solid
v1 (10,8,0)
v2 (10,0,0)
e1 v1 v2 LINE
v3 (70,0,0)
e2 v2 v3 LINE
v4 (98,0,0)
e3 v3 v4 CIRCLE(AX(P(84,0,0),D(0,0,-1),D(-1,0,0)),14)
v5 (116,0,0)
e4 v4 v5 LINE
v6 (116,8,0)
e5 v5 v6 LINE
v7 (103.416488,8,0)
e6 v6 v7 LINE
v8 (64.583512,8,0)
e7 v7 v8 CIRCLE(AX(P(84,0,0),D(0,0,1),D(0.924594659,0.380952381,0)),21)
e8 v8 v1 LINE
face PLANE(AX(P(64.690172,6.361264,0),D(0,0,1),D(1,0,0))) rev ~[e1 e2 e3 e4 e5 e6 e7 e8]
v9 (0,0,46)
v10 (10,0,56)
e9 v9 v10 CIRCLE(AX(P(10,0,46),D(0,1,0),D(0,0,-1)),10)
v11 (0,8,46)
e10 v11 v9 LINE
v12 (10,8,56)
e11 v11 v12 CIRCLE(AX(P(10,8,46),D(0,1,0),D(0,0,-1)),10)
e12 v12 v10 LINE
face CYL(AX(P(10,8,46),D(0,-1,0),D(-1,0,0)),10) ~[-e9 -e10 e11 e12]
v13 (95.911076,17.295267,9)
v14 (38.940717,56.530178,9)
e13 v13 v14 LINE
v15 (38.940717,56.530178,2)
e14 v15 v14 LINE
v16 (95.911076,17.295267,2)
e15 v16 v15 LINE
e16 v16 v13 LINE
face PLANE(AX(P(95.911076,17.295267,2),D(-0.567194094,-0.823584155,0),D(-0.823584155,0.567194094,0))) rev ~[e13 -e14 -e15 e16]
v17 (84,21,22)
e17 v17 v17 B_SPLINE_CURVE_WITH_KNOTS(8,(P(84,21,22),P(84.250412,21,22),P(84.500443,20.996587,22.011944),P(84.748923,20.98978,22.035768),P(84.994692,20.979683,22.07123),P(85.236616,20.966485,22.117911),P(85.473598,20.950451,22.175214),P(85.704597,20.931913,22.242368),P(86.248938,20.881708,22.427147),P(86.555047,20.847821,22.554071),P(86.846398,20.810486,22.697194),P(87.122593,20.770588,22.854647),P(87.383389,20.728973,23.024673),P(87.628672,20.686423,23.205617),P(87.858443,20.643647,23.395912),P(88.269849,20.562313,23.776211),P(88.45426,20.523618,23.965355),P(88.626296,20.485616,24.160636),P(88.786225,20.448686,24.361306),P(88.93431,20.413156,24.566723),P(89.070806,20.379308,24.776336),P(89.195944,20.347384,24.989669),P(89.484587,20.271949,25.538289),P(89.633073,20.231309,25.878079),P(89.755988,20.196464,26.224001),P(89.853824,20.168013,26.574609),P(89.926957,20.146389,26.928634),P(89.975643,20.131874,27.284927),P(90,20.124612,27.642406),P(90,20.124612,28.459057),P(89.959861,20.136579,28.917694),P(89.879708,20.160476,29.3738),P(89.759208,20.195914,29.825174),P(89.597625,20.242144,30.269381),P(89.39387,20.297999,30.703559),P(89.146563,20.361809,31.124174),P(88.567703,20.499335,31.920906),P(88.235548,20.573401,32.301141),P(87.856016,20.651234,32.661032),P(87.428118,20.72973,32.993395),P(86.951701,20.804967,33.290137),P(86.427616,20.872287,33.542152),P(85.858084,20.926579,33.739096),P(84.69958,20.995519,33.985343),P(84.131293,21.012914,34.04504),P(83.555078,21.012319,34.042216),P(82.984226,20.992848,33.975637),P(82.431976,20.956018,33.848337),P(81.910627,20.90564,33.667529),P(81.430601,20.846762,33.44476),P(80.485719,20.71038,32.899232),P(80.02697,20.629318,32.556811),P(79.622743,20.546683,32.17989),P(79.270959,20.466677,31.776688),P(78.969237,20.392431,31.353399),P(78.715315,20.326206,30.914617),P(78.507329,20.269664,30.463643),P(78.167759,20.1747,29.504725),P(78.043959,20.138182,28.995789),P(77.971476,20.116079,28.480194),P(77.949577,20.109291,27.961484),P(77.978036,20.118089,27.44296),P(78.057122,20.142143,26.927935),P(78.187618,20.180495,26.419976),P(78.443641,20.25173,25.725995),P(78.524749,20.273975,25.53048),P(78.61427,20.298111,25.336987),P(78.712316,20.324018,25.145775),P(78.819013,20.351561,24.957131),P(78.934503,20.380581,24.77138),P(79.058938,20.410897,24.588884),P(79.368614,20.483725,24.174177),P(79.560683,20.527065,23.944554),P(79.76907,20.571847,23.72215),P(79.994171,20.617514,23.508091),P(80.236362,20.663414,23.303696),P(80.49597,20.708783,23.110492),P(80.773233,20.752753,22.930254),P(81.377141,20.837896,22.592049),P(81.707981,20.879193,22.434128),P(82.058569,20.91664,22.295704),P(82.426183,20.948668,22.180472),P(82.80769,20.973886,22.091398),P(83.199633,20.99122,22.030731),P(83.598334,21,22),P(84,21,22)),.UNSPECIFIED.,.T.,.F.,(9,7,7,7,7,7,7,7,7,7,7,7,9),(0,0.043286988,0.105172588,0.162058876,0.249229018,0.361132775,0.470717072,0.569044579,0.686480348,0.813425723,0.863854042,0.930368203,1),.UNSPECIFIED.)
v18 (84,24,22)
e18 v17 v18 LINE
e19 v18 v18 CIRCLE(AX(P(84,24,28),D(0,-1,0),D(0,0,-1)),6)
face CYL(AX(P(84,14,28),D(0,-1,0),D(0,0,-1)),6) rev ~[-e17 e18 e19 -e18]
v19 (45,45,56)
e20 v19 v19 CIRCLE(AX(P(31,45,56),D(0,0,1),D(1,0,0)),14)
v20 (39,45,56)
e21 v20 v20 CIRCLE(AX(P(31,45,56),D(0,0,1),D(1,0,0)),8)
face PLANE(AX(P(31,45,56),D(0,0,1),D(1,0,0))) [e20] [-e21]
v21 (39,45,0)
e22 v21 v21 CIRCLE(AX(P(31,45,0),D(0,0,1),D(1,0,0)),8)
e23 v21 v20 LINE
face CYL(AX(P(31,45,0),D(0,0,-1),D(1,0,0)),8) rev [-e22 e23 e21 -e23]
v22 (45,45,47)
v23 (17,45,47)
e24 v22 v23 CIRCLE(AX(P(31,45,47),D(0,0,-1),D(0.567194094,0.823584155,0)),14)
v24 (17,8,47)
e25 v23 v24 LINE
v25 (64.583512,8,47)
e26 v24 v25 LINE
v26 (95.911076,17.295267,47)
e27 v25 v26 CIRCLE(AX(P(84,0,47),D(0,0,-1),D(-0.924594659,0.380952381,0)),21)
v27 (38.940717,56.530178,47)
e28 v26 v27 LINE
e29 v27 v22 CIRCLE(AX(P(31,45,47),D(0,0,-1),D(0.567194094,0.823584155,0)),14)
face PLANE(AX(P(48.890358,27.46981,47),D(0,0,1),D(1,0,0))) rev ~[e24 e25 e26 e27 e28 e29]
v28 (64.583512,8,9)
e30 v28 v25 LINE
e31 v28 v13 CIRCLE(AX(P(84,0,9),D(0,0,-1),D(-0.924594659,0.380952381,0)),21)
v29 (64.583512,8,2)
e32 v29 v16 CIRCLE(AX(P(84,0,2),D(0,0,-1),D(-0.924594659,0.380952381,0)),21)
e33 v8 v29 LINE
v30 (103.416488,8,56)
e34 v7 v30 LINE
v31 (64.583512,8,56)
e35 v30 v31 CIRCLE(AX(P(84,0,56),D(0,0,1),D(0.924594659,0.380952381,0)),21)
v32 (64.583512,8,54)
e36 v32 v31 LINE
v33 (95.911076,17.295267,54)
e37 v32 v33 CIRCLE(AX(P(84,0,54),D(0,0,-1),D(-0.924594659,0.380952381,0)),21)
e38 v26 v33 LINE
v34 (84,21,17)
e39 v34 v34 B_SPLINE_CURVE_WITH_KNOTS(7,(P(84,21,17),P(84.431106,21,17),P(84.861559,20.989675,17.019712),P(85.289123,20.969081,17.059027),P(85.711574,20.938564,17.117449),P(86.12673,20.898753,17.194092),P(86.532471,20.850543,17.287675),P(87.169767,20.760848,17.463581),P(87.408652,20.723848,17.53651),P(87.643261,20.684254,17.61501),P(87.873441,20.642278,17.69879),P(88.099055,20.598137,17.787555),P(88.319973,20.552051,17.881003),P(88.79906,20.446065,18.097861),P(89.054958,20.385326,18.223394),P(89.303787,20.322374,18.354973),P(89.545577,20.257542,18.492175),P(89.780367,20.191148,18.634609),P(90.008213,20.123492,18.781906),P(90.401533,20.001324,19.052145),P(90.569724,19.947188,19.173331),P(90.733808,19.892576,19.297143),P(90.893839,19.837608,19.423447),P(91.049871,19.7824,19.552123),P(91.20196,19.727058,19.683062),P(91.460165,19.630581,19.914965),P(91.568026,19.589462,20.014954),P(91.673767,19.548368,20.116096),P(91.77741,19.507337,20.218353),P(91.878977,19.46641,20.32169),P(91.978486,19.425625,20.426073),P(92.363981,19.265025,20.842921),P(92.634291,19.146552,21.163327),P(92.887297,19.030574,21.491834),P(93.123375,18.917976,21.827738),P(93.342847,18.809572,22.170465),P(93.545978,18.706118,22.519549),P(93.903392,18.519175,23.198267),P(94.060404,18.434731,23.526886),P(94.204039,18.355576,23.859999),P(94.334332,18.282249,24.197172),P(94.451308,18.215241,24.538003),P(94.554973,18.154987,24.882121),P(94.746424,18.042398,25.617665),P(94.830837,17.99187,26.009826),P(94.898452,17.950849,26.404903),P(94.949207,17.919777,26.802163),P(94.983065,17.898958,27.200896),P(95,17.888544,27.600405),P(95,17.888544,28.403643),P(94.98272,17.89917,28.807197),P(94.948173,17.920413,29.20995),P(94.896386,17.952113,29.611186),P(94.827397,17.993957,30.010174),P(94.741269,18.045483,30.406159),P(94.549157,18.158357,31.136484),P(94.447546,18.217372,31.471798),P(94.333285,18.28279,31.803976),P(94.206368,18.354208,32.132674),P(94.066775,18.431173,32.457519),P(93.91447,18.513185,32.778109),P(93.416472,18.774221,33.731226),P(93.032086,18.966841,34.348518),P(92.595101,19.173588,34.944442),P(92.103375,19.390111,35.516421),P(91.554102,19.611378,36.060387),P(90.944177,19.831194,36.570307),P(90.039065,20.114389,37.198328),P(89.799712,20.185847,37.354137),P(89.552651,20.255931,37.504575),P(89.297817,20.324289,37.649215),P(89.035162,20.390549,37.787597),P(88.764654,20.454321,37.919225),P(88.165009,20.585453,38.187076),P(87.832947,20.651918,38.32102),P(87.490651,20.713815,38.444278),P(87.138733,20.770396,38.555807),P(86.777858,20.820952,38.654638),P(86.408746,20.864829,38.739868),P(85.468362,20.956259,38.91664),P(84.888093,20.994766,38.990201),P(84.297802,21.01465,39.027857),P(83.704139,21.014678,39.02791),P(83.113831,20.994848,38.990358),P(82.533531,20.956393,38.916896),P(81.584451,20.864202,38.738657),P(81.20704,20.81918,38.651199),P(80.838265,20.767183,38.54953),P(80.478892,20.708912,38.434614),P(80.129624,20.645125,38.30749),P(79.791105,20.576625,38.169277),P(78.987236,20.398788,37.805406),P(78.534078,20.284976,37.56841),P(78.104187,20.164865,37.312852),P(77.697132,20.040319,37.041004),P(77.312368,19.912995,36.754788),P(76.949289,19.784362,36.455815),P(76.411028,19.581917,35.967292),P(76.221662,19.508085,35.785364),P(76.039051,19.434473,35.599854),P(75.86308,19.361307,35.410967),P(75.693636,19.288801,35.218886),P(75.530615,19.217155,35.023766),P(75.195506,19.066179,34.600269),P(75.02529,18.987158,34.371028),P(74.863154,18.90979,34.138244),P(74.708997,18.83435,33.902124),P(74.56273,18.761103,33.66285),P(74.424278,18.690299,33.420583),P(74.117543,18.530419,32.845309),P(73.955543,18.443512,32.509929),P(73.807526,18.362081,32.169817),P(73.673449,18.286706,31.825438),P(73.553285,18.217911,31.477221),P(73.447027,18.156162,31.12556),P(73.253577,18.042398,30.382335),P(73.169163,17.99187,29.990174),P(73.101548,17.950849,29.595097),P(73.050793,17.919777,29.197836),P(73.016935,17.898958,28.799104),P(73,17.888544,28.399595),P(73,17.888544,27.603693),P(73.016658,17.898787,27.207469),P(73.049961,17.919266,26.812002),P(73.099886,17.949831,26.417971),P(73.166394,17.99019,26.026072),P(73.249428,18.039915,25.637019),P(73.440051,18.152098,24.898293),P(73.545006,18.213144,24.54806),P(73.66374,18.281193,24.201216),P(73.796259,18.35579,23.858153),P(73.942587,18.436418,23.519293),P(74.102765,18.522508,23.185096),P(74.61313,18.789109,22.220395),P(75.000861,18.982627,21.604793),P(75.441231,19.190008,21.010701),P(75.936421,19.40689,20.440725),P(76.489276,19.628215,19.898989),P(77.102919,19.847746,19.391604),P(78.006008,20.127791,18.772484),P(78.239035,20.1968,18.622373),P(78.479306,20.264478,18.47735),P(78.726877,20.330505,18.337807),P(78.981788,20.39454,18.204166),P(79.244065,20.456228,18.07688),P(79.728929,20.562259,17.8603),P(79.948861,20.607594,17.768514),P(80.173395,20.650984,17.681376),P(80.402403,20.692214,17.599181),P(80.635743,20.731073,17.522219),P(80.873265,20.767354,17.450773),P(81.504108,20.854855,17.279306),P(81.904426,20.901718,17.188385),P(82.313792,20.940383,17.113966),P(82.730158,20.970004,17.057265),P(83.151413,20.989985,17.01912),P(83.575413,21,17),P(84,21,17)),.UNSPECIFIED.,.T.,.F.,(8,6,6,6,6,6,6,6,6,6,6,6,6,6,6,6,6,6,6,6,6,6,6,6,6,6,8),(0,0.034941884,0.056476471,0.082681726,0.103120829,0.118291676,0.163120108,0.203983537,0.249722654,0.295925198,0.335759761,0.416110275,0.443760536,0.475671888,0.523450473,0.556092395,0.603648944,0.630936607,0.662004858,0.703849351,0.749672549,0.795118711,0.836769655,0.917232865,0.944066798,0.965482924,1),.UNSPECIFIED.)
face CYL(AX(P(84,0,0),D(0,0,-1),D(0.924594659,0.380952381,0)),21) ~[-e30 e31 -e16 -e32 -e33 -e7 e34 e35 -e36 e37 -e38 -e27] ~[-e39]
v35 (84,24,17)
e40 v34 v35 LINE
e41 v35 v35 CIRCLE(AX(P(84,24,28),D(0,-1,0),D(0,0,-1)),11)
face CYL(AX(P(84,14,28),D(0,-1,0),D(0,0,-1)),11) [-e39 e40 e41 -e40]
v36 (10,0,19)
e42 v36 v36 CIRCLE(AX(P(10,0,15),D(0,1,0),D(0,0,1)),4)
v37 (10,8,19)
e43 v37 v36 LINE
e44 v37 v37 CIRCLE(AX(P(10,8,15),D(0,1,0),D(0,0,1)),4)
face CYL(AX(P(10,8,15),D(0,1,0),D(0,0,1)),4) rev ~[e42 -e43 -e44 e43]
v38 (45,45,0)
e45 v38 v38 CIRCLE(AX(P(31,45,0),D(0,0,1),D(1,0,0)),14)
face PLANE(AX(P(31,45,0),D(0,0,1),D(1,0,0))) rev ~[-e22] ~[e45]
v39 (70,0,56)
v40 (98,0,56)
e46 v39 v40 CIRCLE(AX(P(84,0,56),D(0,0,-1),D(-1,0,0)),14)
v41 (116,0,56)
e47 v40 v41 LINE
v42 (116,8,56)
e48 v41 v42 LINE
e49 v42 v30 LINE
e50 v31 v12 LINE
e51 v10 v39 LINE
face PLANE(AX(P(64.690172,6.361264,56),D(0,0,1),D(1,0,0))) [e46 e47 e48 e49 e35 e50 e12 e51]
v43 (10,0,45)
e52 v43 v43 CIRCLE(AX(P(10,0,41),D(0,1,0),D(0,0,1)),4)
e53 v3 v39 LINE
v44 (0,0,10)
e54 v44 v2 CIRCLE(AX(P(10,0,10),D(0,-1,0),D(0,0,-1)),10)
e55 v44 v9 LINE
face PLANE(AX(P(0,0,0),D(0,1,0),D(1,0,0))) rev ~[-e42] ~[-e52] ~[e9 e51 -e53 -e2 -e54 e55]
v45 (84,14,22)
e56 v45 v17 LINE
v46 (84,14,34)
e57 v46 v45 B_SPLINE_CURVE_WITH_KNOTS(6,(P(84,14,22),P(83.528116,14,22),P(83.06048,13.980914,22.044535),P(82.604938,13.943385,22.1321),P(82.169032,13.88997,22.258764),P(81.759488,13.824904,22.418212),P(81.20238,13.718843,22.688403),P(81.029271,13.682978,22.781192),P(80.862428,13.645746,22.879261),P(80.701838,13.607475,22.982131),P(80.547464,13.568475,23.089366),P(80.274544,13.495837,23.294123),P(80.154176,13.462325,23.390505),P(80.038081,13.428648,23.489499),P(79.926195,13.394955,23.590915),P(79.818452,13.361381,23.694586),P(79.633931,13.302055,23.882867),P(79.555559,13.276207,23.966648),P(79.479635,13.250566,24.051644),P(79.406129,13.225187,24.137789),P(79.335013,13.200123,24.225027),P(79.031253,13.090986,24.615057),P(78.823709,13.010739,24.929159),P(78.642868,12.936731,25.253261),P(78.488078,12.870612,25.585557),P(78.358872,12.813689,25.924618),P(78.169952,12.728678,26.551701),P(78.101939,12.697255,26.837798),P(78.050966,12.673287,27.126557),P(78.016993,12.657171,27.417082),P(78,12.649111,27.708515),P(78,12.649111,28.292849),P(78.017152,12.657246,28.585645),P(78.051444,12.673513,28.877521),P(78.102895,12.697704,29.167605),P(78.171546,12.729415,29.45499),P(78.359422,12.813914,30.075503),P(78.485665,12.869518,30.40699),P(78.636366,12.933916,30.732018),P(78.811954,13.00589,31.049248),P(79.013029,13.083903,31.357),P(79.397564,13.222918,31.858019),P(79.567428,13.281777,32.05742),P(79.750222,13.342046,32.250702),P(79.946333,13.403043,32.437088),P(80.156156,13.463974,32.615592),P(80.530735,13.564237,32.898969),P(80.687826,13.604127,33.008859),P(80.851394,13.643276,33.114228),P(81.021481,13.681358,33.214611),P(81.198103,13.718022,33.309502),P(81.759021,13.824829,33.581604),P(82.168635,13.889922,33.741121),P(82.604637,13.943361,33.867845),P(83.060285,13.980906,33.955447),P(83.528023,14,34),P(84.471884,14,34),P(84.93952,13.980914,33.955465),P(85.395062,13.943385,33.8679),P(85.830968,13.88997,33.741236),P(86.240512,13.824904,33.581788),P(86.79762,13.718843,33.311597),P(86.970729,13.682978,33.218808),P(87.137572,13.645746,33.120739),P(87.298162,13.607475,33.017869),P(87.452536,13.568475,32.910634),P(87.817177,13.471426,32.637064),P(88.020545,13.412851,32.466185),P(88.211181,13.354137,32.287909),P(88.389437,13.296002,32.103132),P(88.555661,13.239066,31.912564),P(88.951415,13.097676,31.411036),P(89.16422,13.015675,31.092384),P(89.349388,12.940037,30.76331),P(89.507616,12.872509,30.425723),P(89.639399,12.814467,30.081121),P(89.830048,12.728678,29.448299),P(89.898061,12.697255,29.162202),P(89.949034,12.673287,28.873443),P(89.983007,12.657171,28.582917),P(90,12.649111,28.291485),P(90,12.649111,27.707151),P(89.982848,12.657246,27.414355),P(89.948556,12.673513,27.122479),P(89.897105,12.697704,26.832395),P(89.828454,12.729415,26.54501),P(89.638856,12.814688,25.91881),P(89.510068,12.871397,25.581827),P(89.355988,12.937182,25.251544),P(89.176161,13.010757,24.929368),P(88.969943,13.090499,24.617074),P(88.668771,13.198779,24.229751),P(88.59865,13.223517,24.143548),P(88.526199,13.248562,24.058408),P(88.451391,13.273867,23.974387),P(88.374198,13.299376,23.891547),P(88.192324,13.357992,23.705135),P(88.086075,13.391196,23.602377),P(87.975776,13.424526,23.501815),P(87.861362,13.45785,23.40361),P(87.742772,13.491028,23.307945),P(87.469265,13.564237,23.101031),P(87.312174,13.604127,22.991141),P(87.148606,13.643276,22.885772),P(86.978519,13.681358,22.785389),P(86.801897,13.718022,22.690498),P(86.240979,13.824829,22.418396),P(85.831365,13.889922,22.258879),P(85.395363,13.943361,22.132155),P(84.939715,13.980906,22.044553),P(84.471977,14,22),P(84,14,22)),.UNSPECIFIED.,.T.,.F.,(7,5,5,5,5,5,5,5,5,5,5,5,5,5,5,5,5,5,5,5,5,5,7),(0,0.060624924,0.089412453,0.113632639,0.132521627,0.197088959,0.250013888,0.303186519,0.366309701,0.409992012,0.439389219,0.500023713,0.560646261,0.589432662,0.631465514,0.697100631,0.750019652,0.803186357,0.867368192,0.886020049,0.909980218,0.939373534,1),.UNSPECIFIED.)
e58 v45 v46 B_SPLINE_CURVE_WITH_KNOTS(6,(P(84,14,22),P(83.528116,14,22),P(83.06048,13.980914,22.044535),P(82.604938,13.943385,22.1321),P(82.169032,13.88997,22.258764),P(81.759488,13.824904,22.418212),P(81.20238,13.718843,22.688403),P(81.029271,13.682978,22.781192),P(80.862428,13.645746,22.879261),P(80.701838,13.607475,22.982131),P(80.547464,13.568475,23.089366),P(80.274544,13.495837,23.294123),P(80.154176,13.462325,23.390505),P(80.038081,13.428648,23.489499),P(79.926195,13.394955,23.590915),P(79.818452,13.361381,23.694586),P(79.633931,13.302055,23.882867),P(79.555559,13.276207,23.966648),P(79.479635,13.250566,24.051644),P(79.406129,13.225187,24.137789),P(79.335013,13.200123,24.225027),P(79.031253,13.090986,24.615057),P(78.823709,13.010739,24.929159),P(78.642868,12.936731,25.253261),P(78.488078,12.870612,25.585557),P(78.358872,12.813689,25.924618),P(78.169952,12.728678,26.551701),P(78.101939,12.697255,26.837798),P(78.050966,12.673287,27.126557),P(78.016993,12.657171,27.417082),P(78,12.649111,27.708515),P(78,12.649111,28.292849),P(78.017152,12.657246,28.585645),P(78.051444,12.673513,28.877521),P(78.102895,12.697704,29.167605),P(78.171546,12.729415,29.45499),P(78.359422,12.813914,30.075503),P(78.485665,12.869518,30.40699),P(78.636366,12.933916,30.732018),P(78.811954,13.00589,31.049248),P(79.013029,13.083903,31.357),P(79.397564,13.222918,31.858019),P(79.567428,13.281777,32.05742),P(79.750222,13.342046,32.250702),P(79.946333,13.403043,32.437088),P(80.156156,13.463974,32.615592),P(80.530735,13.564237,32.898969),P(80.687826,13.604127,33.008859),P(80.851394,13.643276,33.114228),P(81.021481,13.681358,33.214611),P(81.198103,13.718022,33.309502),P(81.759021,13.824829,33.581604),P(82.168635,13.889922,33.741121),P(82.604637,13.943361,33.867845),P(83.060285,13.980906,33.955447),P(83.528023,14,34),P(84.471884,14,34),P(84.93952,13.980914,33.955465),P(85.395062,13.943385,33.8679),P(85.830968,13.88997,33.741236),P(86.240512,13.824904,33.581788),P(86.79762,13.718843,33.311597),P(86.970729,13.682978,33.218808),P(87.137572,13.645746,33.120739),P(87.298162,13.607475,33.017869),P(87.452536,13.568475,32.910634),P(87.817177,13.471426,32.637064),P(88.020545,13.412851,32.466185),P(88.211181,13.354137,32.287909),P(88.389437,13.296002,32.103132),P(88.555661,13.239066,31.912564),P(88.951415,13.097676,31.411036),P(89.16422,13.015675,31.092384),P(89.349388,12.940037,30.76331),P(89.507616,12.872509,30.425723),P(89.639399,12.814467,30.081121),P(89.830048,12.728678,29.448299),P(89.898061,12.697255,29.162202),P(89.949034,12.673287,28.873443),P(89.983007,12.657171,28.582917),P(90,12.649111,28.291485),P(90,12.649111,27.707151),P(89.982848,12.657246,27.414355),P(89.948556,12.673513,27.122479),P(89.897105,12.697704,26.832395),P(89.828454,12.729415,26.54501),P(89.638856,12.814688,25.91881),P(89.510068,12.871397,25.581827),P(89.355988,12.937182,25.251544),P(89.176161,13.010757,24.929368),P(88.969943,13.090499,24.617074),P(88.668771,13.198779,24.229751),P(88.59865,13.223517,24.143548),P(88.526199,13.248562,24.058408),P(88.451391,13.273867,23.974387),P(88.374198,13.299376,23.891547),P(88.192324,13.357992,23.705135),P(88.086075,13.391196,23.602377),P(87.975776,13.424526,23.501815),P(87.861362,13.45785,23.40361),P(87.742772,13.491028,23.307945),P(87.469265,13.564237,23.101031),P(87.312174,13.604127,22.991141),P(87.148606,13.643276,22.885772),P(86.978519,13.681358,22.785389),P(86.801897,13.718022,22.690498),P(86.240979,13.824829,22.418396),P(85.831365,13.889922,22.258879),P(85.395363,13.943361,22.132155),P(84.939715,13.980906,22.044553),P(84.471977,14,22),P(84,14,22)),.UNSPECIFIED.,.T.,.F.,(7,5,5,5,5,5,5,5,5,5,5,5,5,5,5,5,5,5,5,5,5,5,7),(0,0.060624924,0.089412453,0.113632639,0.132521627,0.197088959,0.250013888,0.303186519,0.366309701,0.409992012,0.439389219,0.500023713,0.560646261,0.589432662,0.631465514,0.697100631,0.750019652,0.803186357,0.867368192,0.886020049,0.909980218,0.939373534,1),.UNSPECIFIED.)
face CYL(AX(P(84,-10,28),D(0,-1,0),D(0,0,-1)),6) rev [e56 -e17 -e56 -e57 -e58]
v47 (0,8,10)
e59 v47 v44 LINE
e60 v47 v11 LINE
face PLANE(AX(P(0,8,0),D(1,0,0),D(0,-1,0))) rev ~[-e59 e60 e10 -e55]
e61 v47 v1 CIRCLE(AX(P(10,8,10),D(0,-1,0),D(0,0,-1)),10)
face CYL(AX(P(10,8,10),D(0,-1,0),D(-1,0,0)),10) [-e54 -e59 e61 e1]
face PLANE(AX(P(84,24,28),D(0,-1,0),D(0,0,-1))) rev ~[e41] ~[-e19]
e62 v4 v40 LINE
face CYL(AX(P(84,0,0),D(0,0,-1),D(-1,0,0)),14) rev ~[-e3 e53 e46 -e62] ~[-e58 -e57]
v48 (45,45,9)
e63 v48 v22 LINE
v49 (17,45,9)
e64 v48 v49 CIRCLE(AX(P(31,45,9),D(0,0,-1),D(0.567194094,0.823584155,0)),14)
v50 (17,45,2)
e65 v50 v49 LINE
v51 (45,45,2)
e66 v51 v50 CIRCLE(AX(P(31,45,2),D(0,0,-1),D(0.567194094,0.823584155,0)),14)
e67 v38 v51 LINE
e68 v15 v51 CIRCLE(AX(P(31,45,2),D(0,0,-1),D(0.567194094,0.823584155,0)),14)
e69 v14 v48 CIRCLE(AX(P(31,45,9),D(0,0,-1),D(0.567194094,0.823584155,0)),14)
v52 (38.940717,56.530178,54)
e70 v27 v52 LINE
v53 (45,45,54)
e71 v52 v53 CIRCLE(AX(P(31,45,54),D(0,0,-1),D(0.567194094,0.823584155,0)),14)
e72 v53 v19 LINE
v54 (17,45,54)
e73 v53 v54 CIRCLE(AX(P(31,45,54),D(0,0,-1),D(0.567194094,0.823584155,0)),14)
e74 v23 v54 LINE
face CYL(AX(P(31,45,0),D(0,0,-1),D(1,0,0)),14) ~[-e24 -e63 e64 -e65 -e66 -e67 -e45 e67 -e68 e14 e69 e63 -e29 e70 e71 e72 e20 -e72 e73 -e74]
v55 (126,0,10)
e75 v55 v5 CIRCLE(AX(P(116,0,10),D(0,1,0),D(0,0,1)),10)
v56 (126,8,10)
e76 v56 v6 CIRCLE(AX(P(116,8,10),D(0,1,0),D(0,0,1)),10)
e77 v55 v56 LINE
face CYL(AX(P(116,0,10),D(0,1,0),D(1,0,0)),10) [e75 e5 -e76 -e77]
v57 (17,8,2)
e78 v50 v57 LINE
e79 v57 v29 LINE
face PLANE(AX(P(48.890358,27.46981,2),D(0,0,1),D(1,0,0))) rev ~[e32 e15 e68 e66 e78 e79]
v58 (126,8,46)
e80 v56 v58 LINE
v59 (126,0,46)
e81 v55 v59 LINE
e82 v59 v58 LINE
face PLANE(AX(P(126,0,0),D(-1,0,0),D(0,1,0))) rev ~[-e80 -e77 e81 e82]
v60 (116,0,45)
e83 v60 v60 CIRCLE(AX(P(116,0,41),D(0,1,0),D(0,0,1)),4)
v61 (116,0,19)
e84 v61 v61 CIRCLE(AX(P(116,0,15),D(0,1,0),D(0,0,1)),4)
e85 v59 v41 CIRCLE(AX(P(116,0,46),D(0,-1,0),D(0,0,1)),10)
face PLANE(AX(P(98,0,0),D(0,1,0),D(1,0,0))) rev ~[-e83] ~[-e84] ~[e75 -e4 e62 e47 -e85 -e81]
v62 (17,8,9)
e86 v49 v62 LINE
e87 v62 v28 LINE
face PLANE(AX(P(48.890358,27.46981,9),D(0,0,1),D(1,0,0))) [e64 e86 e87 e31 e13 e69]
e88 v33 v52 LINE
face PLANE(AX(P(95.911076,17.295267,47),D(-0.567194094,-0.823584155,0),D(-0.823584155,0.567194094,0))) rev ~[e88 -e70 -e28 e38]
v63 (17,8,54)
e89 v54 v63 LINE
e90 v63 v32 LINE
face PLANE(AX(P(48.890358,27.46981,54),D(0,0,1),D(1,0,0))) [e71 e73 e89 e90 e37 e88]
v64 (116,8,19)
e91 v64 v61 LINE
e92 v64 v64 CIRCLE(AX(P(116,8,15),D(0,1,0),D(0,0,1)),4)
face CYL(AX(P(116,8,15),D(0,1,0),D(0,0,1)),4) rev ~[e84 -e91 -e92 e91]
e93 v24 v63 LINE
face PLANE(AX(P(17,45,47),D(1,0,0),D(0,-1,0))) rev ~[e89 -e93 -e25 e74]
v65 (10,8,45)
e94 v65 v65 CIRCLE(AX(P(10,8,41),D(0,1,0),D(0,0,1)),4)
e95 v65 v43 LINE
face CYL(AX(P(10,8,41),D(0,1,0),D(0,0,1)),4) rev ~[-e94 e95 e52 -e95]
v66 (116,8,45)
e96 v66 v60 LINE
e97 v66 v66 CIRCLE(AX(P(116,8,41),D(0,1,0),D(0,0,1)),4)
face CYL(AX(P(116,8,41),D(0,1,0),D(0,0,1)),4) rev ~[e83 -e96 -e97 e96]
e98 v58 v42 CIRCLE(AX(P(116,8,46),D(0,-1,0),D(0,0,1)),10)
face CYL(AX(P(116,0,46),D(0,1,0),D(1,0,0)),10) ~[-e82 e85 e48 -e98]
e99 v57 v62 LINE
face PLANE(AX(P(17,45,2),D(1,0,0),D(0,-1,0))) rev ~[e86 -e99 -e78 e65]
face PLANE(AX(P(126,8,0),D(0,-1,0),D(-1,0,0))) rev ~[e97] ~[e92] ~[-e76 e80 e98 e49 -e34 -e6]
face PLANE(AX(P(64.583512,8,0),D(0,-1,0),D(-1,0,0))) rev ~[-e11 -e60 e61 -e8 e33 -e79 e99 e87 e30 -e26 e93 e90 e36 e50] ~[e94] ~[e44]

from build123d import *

# Parameters (mm, degrees)
BOSS_EXTRUDE1_DEPTH = 56
FILLET1_R           = 10
SKETCH2_R           = 4
CUT_EXTRUDE1_DEPTH  = 56
SKETCH4_R           = 11
SKETCH4_R_2         = 6
BOSS_EXTRUDE2_DEPTH = 10
CUT_EXTRUDE2_START  = -34
SKETCH5_R           = 6
CUT_EXTRUDE2_DEPTH  = 34
SKETCH6_R           = 14
SKETCH6_R_2         = 8
BOSS_EXTRUDE3_DEPTH = 56
BOSS_EXTRUDE4_START = -7
BOSS_EXTRUDE4_DEPTH = 7
BOSS_EXTRUDE5_DEPTH = 7


with BuildPart() as part:
    # Sketch1 → Boss-Extrude1 (new body)
    with BuildSketch(Plane.XY):
        with BuildLine():
            Line((0, 0), (70, 0))
            ThreePointArc((70, 0), (84, 14), (98, 0))
            Line((98, 0), (126, 0))
            Line((126, 0), (126, 8))
            Line((126, 8), (103.416487839, 8))
            ThreePointArc((103.416487839, 8), (84, 21), (64.583512161, 8))
            Line((64.583512161, 8), (0, 8))
            Line((0, 8), (0, 0))
        make_face()
    extrude(amount=BOSS_EXTRUDE1_DEPTH)

    # Fillet1
    fillet1_edges = [part.edges().sort_by_distance(p)[0] for p in [
        (0, 4, 0),
        (126, 4, 56),
        (0, 4, 56),
        (126, 4, 0),
    ]]
    fillet(fillet1_edges, radius=FILLET1_R)

    # Sketch2 → Cut-Extrude1 (cut)
    with BuildSketch(Plane(origin=(0, 8, 0), x_dir=(1, 0, 0), z_dir=(0, 1, 0))):
        with Locations(Location((10, -15, 0), (0, 0, 270))):
            Circle(SKETCH2_R)
        with Locations(Location((10, -41, 0), (0, 0, 270))):
            Circle(SKETCH2_R)
        with Locations(Location((116, -15, 0), (0, 0, 270))):
            Circle(SKETCH2_R)
        with Locations(Location((116, -41, 0), (0, 0, 270))):
            Circle(SKETCH2_R)
    extrude(amount=-CUT_EXTRUDE1_DEPTH, mode=Mode.SUBTRACT)

    # Sketch4 → Boss-Extrude2 (add)
    with BuildSketch(Plane(origin=(0, 14, 0), x_dir=(-1, 0, 0), z_dir=(0, -1, 0))):
        with Locations(Location((-84, -28, 0), (0, 0, 90))):
            Circle(SKETCH4_R)
        with Locations(Location((-84, -28, 0), (0, 0, 90))):
            Circle(SKETCH4_R_2, mode=Mode.SUBTRACT)
    extrude(amount=-BOSS_EXTRUDE2_DEPTH)

    # Sketch5 → Cut-Extrude2 (cut)
    with BuildSketch(Plane(origin=(0, 24, 0), x_dir=(1, 0, 0), z_dir=(0, 1, 0)).offset(CUT_EXTRUDE2_START)):
        with Locations(Location((84, -28, 0), (0, 0, 90))):
            Circle(SKETCH5_R)
    extrude(amount=CUT_EXTRUDE2_DEPTH, mode=Mode.SUBTRACT)



with BuildPart() as body_2:
    # Sketch6 → Boss-Extrude3 (new body)
    with BuildSketch(Plane.XY):
        with Locations((31, 45)):
            Circle(SKETCH6_R)
        with Locations((31, 45)):
            Circle(SKETCH6_R_2, mode=Mode.SUBTRACT)
    extrude(amount=BOSS_EXTRUDE3_DEPTH)


with BuildPart() as part_1:
    add(part.part)

    add(body_2.part)  # Boss-Extrude4 merges body 2
    # Sketch7 → Boss-Extrude4 (add)
    with BuildSketch(Plane.XY.offset(54).offset(BOSS_EXTRUDE4_START)):
        with BuildLine():
            Line((17, 45), (17, 8))
            Line((17, 8), (64.583512161, 8))
            ThreePointArc((64.583512161, 8), (78.026449954, 20.132478731), (95.911075968, 17.295267251))
            Line((95.911075968, 17.295267251), (38.940717312, 56.530178167))
            ThreePointArc((38.940717312, 56.530178167), (37.512678314, 32.607057606), (17, 45))
        make_face()
    extrude(amount=BOSS_EXTRUDE4_DEPTH)

    # Sketch8 → Boss-Extrude5 (add)
    with BuildSketch(Plane(origin=(0, 0, 2), x_dir=(-1, 0, 0), z_dir=(0, 0, -1))):
        with BuildLine():
            Line((-17, 45), (-17, 8))
            Line((-17, 8), (-64.583512161, 8))
            ThreePointArc((-64.583512161, 8), (-78.026449954, 20.132478731), (-95.911075968, 17.295267251))
            Line((-95.911075968, 17.295267251), (-38.940717312, 56.530178167))
            ThreePointArc((-38.940717312, 56.530178167), (-37.512678314, 32.607057606), (-17, 45))
        make_face()
    extrude(amount=-BOSS_EXTRUDE5_DEPTH)


solid = part_1.part
